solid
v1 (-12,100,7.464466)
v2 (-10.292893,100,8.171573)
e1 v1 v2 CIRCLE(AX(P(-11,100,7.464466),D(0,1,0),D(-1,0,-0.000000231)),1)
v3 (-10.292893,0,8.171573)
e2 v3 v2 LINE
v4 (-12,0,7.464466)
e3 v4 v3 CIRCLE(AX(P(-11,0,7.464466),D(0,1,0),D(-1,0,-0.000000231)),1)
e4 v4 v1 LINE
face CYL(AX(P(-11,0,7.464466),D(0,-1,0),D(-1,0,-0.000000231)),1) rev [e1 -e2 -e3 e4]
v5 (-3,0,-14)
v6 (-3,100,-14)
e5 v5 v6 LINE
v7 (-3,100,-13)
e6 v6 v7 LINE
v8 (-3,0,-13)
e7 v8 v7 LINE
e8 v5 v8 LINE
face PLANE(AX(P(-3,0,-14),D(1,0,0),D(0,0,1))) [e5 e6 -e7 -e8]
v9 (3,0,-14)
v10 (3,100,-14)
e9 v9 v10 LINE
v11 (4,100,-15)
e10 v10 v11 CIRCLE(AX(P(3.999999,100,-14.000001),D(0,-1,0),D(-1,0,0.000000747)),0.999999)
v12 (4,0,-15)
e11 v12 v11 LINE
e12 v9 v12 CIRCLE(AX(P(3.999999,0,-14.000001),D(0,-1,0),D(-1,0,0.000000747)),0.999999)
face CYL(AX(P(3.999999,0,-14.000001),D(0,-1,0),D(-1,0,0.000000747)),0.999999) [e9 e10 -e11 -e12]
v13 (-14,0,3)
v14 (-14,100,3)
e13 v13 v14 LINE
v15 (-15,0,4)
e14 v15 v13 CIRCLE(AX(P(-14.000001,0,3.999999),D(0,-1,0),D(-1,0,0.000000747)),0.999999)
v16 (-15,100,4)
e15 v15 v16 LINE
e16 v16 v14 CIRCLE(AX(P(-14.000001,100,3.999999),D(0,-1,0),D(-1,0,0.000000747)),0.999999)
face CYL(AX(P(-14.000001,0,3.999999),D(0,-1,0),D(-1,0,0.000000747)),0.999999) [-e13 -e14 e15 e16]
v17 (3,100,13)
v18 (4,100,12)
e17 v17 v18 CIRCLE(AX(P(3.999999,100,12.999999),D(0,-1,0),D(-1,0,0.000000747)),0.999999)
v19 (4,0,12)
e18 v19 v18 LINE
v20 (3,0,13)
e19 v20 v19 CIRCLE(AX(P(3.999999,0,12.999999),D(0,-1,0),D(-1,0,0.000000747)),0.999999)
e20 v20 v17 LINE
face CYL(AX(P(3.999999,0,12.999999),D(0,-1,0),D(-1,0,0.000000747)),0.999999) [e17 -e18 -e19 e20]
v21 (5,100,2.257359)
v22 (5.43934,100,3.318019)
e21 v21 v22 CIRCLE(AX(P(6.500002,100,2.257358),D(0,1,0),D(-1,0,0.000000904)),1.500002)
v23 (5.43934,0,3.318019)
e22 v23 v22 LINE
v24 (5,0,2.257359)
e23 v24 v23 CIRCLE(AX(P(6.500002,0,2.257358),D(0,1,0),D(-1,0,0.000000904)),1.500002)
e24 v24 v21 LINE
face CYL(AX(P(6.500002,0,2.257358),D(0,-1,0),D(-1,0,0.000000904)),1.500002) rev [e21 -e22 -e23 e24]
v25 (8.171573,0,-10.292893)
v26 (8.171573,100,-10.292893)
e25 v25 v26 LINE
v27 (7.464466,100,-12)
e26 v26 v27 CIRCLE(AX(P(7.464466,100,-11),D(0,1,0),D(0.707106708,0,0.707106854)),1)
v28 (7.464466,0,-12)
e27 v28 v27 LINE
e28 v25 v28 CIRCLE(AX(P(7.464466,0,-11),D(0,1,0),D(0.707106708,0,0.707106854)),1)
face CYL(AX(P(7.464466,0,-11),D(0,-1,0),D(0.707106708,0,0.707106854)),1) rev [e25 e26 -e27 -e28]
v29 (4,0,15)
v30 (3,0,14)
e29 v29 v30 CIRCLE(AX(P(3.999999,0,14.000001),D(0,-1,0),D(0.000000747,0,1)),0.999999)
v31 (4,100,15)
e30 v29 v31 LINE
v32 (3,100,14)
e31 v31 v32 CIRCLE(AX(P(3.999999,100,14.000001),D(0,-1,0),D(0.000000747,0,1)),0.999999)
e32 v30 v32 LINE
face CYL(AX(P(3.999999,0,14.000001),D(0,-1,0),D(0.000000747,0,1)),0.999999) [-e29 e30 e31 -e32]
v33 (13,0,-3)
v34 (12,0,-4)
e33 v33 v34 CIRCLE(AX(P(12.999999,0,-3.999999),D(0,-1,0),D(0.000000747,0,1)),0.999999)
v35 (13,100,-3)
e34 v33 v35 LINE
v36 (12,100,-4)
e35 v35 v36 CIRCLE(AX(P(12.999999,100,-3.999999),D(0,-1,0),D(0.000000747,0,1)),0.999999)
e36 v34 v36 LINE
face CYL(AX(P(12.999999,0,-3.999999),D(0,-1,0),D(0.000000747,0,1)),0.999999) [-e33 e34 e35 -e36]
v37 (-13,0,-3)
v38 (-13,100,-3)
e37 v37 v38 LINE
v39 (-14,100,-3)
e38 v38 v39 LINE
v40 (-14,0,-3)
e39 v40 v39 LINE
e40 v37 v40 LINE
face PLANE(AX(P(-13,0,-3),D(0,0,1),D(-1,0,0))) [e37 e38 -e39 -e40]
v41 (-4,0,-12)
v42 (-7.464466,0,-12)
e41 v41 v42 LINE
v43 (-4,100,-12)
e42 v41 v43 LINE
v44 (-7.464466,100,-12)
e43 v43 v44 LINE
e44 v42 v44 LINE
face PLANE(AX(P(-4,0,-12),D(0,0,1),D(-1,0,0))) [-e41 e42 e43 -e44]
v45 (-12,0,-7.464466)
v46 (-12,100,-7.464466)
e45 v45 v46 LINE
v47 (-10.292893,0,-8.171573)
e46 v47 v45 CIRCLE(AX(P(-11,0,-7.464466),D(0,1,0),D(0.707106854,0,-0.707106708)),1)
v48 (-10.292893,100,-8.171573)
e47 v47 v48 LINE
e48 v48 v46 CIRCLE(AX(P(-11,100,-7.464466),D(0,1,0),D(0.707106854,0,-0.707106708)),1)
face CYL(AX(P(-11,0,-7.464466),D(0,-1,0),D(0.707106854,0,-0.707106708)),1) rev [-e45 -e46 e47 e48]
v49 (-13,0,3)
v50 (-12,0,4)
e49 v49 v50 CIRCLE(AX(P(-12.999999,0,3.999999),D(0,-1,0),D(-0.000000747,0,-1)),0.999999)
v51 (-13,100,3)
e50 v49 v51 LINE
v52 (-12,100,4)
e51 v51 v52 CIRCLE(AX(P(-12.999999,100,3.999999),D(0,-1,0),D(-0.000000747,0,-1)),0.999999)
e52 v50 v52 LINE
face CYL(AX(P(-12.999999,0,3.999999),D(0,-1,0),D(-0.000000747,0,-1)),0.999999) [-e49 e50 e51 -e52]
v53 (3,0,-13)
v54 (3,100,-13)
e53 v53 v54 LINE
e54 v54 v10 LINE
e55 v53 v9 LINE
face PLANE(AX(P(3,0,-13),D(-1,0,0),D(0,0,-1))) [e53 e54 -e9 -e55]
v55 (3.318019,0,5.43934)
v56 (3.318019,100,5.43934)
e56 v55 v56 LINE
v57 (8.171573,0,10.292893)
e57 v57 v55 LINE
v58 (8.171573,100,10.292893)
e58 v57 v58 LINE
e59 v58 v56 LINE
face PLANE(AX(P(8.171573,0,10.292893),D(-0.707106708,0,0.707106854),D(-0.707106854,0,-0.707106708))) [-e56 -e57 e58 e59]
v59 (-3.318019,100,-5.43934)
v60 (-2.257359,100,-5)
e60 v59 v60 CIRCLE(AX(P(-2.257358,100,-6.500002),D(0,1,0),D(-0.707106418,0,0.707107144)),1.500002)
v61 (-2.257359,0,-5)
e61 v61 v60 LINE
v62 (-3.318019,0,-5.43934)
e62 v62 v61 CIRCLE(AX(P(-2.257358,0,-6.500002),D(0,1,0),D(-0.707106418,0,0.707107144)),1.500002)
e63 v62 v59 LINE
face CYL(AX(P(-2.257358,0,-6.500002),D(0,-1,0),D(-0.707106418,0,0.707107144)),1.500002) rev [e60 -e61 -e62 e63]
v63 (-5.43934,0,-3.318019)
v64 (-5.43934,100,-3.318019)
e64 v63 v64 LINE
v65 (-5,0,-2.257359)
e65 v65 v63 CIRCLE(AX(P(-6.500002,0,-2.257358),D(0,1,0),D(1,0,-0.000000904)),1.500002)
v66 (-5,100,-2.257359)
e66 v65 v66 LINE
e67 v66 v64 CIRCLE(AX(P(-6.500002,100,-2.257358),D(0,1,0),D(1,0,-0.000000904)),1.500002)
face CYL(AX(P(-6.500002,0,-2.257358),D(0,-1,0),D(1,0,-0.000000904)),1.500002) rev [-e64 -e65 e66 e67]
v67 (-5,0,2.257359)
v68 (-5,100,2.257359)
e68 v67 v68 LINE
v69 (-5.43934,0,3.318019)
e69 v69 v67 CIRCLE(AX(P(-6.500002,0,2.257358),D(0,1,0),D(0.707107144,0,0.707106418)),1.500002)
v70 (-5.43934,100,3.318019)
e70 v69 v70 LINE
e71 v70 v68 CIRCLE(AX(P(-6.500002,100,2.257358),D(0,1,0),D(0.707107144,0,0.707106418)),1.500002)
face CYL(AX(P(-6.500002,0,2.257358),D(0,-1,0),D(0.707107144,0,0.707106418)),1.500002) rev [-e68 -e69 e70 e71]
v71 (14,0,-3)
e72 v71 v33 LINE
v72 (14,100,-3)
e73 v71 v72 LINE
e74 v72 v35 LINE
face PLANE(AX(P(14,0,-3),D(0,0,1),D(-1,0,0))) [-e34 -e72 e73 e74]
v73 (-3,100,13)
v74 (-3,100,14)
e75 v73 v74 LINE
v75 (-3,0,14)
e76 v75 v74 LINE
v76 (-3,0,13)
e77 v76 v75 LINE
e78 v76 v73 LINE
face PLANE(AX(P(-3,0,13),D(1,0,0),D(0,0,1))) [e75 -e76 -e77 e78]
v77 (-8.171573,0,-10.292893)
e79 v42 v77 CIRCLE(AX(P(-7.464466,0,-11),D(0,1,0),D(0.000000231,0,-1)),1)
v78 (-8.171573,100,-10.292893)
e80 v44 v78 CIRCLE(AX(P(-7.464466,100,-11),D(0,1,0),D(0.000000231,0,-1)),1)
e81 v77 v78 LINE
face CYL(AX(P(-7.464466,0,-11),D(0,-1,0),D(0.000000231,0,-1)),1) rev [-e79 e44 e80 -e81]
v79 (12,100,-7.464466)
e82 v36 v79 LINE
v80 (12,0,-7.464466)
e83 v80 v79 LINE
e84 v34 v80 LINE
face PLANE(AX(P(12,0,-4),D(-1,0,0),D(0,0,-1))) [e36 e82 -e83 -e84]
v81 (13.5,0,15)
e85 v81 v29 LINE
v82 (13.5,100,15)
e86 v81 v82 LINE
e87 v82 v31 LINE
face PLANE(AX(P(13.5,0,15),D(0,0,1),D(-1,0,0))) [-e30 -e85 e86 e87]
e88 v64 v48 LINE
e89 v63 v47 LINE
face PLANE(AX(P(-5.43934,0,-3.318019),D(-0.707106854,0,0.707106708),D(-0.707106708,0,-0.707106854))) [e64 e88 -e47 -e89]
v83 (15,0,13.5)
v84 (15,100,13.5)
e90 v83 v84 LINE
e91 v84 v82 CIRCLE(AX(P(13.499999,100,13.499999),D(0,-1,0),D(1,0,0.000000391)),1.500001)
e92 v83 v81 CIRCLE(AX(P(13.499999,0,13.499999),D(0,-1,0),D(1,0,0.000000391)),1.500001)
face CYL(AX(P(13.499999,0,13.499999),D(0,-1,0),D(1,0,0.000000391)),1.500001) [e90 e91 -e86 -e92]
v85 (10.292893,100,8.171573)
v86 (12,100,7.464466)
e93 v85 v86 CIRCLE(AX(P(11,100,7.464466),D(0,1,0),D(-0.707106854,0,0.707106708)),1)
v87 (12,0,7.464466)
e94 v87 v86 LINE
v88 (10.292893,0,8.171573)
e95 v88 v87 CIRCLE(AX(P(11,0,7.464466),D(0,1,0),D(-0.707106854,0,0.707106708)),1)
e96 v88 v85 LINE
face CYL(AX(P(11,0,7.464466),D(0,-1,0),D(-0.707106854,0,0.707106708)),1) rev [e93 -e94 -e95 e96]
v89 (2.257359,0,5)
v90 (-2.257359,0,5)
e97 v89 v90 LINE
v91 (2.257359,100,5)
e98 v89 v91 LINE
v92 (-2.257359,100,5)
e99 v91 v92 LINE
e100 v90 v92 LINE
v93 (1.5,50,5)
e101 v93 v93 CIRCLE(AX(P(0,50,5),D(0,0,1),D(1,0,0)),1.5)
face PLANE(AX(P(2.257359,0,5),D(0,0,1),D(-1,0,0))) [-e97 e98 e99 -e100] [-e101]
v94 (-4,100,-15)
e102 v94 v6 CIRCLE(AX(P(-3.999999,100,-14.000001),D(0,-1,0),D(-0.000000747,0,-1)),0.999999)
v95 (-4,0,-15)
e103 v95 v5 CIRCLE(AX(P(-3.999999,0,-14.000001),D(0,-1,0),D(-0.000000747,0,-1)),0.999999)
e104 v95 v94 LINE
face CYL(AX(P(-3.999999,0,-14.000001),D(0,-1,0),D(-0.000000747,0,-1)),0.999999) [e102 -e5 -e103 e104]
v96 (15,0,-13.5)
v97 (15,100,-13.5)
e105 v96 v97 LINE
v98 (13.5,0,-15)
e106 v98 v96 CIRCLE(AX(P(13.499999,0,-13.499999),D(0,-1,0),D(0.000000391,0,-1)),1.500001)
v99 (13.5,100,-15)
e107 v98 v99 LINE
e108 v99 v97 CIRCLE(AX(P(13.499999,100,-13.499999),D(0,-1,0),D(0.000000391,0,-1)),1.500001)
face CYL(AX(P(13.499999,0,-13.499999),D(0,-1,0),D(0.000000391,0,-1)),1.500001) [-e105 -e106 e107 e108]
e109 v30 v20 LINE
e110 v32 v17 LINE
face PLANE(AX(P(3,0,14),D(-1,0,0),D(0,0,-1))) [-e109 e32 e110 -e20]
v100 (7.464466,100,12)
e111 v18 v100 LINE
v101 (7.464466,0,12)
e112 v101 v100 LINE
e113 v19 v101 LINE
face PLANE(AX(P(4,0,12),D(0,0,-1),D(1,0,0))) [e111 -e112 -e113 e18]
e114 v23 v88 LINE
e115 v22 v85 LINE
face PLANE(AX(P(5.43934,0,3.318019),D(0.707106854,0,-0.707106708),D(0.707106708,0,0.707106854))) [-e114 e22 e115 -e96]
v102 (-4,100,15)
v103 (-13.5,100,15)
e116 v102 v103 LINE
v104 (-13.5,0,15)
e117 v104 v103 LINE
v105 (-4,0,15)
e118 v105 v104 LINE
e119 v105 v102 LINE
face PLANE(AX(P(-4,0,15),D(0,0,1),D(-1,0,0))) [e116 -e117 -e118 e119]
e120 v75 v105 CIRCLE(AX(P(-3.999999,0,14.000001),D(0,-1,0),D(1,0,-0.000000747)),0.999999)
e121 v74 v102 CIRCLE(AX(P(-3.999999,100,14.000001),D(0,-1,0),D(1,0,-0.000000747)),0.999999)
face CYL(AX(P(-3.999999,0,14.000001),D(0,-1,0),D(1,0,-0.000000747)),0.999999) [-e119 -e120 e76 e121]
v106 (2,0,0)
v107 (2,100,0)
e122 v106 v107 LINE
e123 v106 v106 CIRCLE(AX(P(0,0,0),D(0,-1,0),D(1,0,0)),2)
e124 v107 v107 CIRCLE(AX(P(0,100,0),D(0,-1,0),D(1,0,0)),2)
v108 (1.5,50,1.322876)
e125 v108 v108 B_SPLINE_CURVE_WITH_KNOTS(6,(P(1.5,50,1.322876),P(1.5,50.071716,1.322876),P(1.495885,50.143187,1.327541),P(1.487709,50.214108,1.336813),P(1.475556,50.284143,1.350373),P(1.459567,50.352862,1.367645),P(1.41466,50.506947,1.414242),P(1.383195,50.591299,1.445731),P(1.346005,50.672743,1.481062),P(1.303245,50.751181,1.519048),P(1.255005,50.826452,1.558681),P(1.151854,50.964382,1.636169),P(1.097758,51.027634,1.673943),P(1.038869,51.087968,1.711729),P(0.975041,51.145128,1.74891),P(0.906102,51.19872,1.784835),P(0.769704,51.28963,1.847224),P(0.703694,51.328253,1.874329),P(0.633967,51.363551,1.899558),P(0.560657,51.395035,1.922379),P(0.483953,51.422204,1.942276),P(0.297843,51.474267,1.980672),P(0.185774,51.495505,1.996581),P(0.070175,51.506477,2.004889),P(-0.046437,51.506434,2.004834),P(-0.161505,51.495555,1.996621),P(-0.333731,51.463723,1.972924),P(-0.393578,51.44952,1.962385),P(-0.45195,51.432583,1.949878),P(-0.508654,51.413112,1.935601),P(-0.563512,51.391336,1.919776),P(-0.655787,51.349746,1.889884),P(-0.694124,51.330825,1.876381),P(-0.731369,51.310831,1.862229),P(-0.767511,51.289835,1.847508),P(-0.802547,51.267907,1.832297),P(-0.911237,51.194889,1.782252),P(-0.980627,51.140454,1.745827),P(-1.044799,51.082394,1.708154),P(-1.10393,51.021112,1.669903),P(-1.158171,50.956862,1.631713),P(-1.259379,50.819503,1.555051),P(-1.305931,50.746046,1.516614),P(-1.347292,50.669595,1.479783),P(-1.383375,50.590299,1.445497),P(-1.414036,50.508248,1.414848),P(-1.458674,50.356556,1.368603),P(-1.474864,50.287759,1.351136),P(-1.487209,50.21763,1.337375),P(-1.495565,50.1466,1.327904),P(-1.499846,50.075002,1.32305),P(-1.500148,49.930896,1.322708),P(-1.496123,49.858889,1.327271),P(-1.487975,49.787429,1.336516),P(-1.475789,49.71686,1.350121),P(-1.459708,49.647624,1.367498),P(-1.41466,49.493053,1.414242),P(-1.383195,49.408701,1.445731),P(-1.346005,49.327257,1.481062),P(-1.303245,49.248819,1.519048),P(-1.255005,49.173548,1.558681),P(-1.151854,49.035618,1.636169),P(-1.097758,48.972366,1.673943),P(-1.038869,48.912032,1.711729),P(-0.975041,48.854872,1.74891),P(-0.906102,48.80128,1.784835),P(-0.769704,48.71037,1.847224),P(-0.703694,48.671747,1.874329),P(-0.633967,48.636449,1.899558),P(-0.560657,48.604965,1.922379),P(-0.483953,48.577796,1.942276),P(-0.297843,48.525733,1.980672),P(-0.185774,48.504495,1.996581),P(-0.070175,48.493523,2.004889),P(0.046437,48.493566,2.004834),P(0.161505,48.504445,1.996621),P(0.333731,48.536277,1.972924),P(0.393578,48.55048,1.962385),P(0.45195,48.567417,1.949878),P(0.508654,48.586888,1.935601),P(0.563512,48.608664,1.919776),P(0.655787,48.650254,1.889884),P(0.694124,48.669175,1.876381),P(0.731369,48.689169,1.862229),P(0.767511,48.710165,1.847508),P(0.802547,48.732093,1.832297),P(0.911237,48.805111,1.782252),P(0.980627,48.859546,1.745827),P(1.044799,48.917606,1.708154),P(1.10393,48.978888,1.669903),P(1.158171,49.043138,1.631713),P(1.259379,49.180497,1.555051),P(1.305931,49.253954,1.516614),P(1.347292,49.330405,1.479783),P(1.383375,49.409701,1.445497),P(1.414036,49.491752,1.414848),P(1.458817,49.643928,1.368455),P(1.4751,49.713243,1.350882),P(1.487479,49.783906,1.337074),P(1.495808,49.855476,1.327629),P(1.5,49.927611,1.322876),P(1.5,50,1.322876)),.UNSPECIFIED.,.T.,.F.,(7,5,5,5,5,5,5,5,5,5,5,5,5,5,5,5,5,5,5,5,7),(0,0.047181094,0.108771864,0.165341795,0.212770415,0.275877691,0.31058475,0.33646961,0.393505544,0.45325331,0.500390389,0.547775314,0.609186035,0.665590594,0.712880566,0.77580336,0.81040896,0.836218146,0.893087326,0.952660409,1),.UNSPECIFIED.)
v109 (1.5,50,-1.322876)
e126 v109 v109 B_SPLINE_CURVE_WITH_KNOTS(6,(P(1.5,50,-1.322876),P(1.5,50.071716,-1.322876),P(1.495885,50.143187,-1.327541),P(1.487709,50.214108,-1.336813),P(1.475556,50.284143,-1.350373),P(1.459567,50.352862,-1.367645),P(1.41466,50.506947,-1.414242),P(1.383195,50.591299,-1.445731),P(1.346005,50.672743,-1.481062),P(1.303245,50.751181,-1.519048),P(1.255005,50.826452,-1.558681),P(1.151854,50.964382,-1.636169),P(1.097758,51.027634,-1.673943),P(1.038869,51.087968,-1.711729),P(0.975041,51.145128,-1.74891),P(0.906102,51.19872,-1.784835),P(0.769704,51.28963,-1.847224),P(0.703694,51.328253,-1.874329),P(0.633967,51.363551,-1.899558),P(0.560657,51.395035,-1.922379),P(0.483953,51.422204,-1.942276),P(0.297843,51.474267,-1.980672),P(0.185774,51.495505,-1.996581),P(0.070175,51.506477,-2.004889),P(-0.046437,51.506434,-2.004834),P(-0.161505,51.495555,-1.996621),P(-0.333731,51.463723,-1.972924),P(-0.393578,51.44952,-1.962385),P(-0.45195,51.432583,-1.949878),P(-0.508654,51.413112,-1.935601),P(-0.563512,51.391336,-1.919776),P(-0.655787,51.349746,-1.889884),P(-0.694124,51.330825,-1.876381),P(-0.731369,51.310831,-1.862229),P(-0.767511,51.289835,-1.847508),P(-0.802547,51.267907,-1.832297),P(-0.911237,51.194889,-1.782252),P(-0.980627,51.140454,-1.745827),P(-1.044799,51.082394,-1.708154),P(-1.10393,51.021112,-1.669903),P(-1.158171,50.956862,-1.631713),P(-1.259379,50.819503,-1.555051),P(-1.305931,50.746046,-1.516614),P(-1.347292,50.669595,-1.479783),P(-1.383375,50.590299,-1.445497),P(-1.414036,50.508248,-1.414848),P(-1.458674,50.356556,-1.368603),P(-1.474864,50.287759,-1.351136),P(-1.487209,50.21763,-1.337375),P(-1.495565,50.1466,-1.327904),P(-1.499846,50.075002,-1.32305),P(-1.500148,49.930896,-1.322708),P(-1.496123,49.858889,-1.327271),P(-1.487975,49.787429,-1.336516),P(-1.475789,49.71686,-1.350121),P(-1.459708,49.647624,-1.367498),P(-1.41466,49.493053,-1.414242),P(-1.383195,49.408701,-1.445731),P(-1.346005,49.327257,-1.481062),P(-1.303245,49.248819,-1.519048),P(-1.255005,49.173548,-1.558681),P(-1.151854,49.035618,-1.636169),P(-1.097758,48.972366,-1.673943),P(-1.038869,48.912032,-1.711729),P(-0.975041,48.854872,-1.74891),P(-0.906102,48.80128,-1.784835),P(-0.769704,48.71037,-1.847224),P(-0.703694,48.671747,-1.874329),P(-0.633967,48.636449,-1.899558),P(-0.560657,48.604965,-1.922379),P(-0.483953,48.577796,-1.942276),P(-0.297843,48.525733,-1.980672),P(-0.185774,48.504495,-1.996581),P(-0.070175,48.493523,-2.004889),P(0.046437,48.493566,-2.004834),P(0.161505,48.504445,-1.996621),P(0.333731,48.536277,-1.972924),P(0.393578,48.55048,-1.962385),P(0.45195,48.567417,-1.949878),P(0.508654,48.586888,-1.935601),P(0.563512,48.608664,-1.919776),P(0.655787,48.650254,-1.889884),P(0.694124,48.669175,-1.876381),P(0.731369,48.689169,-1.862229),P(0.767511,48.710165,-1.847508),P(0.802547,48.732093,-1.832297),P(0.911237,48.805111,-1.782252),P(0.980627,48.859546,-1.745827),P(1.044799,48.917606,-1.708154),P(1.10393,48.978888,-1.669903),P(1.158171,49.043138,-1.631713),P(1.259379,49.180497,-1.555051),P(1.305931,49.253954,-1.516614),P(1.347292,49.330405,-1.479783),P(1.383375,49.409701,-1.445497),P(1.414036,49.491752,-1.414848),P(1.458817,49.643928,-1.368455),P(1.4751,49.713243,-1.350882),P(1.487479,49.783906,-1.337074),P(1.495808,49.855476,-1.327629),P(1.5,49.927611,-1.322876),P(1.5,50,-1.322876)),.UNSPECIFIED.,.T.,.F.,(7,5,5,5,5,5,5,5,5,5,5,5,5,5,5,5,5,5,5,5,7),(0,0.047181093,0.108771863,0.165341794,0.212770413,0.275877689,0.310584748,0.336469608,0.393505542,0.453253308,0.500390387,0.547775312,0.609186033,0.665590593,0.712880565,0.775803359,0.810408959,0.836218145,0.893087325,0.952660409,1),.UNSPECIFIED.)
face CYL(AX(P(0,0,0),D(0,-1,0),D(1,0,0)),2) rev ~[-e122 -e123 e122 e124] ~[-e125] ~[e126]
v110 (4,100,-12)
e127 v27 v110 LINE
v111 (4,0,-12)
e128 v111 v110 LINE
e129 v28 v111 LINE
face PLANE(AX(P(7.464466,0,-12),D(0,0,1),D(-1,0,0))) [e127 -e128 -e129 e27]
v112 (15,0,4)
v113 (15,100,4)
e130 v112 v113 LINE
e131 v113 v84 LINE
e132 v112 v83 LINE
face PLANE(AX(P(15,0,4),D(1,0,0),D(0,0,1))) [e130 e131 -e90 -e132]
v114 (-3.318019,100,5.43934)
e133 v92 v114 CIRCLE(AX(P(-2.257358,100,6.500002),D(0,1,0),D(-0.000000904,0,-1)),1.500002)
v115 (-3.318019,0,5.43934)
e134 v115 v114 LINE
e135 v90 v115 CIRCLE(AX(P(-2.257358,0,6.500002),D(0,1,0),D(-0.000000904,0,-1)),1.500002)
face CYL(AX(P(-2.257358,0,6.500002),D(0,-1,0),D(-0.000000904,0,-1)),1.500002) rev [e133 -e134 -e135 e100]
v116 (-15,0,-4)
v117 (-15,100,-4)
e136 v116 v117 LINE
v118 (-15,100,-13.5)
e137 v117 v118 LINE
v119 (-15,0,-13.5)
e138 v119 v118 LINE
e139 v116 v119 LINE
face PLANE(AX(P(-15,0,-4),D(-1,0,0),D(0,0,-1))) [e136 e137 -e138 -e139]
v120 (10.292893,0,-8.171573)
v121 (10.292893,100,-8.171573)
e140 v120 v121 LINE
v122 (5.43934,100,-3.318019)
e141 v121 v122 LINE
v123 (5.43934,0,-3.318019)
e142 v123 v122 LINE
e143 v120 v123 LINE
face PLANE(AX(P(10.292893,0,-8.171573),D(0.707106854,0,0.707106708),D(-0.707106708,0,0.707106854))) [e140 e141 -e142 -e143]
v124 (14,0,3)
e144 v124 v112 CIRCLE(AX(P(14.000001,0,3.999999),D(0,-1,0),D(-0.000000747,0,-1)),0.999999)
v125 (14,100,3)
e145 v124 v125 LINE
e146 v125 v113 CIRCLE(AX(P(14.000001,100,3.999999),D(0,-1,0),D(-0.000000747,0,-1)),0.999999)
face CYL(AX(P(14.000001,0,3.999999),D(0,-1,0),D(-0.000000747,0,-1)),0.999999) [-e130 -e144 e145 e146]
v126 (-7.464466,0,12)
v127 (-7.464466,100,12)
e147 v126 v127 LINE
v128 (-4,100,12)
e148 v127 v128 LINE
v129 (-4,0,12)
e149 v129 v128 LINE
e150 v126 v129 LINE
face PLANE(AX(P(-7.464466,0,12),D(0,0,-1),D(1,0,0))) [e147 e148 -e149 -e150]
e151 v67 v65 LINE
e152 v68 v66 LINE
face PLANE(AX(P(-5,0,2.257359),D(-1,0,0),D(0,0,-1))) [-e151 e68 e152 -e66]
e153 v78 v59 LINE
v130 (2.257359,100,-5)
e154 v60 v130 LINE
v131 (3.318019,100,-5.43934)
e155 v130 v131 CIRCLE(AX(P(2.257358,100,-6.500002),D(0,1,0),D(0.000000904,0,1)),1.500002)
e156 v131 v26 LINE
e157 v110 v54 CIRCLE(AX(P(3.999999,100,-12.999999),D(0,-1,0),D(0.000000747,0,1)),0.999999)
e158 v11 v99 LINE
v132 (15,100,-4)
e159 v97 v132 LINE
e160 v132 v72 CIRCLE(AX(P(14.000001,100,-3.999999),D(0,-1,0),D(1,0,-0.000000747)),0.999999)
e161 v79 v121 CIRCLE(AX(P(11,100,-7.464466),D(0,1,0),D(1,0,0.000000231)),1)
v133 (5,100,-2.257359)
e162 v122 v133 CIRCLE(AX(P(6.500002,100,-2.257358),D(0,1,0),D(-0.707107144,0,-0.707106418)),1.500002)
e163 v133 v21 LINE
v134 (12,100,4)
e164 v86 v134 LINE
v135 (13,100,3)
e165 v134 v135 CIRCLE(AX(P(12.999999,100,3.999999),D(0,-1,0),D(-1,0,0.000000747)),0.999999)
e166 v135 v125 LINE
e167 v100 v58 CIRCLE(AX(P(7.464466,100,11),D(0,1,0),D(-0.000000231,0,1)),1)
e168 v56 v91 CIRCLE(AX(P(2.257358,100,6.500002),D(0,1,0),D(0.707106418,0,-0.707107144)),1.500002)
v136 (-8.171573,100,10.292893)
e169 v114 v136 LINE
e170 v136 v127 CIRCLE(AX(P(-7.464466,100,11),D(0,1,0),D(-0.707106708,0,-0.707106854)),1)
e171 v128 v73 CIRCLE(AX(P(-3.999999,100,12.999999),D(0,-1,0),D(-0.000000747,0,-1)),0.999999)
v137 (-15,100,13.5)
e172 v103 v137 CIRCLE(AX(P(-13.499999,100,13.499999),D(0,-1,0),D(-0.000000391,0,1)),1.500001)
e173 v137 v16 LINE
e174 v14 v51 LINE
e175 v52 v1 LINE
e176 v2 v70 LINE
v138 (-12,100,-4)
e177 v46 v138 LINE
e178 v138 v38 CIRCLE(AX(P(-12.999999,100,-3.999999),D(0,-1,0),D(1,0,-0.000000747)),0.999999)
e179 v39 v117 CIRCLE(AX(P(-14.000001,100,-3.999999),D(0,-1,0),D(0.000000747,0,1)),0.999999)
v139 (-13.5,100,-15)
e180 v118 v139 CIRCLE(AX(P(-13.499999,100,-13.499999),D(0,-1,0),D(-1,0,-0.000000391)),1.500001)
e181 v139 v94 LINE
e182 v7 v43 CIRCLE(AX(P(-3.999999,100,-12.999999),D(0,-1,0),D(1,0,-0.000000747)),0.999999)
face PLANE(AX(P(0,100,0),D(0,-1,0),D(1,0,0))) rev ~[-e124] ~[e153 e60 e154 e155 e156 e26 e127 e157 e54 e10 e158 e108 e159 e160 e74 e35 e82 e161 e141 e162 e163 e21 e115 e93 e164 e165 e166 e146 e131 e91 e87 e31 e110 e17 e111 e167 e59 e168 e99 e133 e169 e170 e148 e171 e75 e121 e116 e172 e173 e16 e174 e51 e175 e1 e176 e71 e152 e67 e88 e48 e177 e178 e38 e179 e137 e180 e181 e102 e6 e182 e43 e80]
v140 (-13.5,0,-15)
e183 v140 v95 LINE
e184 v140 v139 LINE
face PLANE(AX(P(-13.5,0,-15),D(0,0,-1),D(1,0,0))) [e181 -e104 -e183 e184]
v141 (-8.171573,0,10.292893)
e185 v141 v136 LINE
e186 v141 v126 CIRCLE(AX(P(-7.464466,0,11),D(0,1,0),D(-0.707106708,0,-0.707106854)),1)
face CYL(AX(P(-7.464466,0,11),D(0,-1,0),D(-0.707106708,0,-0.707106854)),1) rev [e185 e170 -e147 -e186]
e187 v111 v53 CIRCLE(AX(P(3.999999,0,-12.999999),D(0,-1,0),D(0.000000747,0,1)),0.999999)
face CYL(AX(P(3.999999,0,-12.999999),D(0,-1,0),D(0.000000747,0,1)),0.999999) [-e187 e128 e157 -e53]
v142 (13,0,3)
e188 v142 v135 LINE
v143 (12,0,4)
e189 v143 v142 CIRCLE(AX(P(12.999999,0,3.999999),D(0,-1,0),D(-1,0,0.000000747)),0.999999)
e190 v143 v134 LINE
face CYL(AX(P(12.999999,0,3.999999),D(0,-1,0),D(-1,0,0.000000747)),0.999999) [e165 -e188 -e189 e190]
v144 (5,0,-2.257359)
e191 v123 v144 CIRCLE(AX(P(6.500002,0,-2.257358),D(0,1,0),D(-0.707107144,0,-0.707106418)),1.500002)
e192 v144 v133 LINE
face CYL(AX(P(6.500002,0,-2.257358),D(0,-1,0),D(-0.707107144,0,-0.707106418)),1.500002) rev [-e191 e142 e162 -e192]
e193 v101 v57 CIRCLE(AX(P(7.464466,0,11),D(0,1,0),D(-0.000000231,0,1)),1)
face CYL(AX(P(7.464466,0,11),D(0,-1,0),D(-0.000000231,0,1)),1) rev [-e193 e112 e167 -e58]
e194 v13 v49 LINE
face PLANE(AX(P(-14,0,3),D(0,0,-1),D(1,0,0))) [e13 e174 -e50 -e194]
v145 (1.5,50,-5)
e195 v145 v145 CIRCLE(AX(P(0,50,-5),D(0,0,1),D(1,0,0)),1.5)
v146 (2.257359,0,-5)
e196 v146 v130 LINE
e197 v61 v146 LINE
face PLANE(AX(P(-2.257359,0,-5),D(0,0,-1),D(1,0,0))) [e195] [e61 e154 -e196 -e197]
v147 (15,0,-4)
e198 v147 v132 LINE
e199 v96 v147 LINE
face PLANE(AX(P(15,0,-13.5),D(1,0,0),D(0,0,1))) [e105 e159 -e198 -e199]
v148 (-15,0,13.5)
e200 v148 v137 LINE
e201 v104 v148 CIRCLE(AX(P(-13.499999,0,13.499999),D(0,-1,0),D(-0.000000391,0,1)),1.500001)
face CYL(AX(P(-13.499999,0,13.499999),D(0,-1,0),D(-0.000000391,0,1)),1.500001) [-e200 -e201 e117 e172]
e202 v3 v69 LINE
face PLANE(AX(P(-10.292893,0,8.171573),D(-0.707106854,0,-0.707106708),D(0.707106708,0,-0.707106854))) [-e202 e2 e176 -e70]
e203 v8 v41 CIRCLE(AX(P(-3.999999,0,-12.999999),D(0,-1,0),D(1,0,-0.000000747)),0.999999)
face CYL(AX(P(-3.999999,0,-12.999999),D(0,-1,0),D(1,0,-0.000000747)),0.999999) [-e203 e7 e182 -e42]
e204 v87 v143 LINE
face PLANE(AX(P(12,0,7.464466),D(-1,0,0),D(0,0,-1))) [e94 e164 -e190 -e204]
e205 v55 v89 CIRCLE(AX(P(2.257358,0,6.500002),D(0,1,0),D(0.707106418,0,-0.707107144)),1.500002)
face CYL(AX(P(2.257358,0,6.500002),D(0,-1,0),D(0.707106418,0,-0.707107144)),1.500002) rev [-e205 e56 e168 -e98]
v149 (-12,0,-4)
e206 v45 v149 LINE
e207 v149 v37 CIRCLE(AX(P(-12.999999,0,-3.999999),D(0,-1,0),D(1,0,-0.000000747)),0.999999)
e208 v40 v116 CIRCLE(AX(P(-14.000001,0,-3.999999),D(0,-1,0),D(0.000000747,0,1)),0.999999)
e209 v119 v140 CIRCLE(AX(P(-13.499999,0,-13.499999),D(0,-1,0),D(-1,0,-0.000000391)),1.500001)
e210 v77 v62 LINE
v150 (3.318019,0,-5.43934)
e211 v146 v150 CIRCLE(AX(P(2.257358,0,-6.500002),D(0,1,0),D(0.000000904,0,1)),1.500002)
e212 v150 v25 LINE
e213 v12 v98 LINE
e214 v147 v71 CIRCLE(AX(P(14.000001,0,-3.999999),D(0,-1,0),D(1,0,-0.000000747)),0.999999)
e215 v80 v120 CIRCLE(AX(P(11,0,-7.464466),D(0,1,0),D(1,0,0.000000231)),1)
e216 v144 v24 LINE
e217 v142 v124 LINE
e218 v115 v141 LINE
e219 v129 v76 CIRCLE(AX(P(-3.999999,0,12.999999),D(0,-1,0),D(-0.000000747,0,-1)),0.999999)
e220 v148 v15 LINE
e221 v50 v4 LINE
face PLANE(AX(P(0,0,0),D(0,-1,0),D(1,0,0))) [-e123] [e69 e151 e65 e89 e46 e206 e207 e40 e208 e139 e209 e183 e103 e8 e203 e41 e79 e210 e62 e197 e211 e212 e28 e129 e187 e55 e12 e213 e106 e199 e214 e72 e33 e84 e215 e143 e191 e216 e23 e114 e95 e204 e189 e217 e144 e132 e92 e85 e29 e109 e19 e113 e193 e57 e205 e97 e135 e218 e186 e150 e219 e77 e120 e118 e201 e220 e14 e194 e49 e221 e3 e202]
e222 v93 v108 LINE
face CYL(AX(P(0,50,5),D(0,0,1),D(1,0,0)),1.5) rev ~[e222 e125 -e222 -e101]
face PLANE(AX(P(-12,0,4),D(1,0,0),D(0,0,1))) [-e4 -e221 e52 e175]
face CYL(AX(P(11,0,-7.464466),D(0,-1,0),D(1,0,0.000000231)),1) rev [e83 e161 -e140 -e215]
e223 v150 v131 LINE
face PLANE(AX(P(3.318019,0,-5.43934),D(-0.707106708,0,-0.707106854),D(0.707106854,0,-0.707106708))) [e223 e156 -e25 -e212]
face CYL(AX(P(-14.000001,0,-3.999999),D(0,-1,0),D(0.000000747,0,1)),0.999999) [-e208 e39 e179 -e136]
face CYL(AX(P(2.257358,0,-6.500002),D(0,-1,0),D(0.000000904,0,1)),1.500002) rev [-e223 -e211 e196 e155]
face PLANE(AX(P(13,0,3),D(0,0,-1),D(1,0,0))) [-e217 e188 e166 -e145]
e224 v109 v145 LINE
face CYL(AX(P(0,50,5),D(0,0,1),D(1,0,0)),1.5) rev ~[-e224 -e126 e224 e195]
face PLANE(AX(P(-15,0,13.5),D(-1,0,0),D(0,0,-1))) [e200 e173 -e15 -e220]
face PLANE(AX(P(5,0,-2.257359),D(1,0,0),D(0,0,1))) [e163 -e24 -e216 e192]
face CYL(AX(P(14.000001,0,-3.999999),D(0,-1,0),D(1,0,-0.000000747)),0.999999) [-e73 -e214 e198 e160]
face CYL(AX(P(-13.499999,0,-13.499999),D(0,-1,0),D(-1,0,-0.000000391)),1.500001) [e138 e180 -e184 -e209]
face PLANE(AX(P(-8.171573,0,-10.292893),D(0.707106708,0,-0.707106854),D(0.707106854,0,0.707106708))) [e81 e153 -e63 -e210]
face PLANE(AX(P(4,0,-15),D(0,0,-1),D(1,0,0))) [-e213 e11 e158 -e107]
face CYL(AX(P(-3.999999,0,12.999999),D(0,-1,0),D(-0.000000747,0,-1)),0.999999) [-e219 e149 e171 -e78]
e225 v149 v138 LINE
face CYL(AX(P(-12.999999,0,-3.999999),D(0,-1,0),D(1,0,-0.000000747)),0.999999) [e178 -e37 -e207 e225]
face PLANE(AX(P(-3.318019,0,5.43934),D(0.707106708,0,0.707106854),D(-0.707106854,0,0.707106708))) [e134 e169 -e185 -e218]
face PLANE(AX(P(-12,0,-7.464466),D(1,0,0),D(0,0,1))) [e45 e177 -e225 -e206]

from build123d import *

# Parameters (mm, degrees)
F0_R     = 2
F1_DEPTH = 100
F2_R     = 1.5
F3_DEPTH = 10


with BuildPart() as f1:
    # F0 (on Front) → F1 (new body)
    with BuildSketch(Plane.XZ):
        with BuildLine():
            ThreePointArc((15, 13.5), (14.56066, 14.56066), (13.5, 15))
            Line((13.5, 15), (4, 15))
            ThreePointArc((4, 15), (3.292893, 14.707107), (3, 14))
            Line((3, 14), (3, 13))
            ThreePointArc((3, 13), (3.292893, 12.292893), (4, 12))
            Line((4, 12), (7.464466, 12))
            ThreePointArc((7.464466, 12), (8.388346, 11.382683), (8.171573, 10.292893))
            Line((8.171573, 10.292893), (3.318019, 5.43934))
            ThreePointArc((3.318019, 5.43934), (2.831384, 5.114181), (2.257359, 5))
            Line((2.257359, 5), (-2.257359, 5))
            ThreePointArc((-2.257359, 5), (-2.831384, 5.114181), (-3.318019, 5.43934))
            Line((-3.318019, 5.43934), (-8.171573, 10.292893))
            ThreePointArc((-8.171573, 10.292893), (-8.388346, 11.382683), (-7.464466, 12))
            Line((-7.464466, 12), (-4, 12))
            ThreePointArc((-4, 12), (-3.292893, 12.292893), (-3, 13))
            Line((-3, 13), (-3, 14))
            ThreePointArc((-3, 14), (-3.292893, 14.707107), (-4, 15))
            Line((-4, 15), (-13.5, 15))
            ThreePointArc((-13.5, 15), (-14.56066, 14.56066), (-15, 13.5))
            Line((-15, 13.5), (-15, 4))
            ThreePointArc((-15, 4), (-14.707107, 3.292893), (-14, 3))
            Line((-14, 3), (-13, 3))
            ThreePointArc((-13, 3), (-12.292893, 3.292893), (-12, 4))
            Line((-12, 4), (-12, 7.464466))
            ThreePointArc((-12, 7.464466), (-11.382683, 8.388346), (-10.292893, 8.171573))
            Line((-10.292893, 8.171573), (-5.43934, 3.318019))
            ThreePointArc((-5.43934, 3.318019), (-5.114181, 2.831384), (-5, 2.257359))
            Line((-5, 2.257359), (-5, -2.257359))
            ThreePointArc((-5, -2.257359), (-5.114181, -2.831384), (-5.43934, -3.318019))
            Line((-5.43934, -3.318019), (-10.292893, -8.171573))
            ThreePointArc((-10.292893, -8.171573), (-11.382683, -8.388346), (-12, -7.464466))
            Line((-12, -7.464466), (-12, -4))
            ThreePointArc((-12, -4), (-12.292893, -3.292893), (-13, -3))
            Line((-13, -3), (-14, -3))
            ThreePointArc((-14, -3), (-14.707107, -3.292893), (-15, -4))
            Line((-15, -4), (-15, -13.5))
            ThreePointArc((-15, -13.5), (-14.56066, -14.56066), (-13.5, -15))
            Line((-13.5, -15), (-4, -15))
            ThreePointArc((-4, -15), (-3.292893, -14.707107), (-3, -14))
            Line((-3, -14), (-3, -13))
            ThreePointArc((-3, -13), (-3.292893, -12.292893), (-4, -12))
            Line((-4, -12), (-7.464466, -12))
            ThreePointArc((-7.464466, -12), (-8.388346, -11.382683), (-8.171573, -10.292893))
            Line((-8.171573, -10.292893), (-3.318019, -5.43934))
            ThreePointArc((-3.318019, -5.43934), (-2.831384, -5.114181), (-2.257359, -5))
            Line((-2.257359, -5), (2.257359, -5))
            ThreePointArc((2.257359, -5), (2.831384, -5.114181), (3.318019, -5.43934))
            Line((3.318019, -5.43934), (8.171573, -10.292893))
            ThreePointArc((8.171573, -10.292893), (8.388346, -11.382683), (7.464466, -12))
            Line((7.464466, -12), (4, -12))
            ThreePointArc((4, -12), (3.292893, -12.292893), (3, -13))
            Line((3, -13), (3, -14))
            ThreePointArc((3, -14), (3.292893, -14.707107), (4, -15))
            Line((4, -15), (13.5, -15))
            ThreePointArc((13.5, -15), (14.56066, -14.56066), (15, -13.5))
            Line((15, -13.5), (15, -4))
            ThreePointArc((15, -4), (14.707107, -3.292893), (14, -3))
            Line((14, -3), (13, -3))
            ThreePointArc((13, -3), (12.292893, -3.292893), (12, -4))
            Line((12, -4), (12, -7.464466))
            ThreePointArc((12, -7.464466), (11.382683, -8.388346), (10.292893, -8.171573))
            Line((10.292893, -8.171573), (5.43934, -3.318019))
            ThreePointArc((5.43934, -3.318019), (5.114181, -2.831384), (5, -2.257359))
            Line((5, -2.257359), (5, 2.257359))
            ThreePointArc((5, 2.257359), (5.114181, 2.831384), (5.43934, 3.318019))
            Line((5.43934, 3.318019), (10.292893, 8.171573))
            ThreePointArc((10.292893, 8.171573), (11.382683, 8.388346), (12, 7.464466))
            Line((12, 7.464466), (12, 4))
            ThreePointArc((12, 4), (12.292893, 3.292893), (13, 3))
            Line((13, 3), (14, 3))
            ThreePointArc((14, 3), (14.707107, 3.292893), (15, 4))
            Line((15, 4), (15, 13.5))
        make_face()
        Circle(F0_R, mode=Mode.SUBTRACT)
    extrude(amount=-F1_DEPTH)

    # F2 (on face) → F3 (cut)
    with BuildSketch(Plane.XY.offset(5)):
        with Locations((0, 50)):
            Circle(F2_R)
    extrude(amount=-F3_DEPTH, mode=Mode.SUBTRACT)


solid = f1.part
